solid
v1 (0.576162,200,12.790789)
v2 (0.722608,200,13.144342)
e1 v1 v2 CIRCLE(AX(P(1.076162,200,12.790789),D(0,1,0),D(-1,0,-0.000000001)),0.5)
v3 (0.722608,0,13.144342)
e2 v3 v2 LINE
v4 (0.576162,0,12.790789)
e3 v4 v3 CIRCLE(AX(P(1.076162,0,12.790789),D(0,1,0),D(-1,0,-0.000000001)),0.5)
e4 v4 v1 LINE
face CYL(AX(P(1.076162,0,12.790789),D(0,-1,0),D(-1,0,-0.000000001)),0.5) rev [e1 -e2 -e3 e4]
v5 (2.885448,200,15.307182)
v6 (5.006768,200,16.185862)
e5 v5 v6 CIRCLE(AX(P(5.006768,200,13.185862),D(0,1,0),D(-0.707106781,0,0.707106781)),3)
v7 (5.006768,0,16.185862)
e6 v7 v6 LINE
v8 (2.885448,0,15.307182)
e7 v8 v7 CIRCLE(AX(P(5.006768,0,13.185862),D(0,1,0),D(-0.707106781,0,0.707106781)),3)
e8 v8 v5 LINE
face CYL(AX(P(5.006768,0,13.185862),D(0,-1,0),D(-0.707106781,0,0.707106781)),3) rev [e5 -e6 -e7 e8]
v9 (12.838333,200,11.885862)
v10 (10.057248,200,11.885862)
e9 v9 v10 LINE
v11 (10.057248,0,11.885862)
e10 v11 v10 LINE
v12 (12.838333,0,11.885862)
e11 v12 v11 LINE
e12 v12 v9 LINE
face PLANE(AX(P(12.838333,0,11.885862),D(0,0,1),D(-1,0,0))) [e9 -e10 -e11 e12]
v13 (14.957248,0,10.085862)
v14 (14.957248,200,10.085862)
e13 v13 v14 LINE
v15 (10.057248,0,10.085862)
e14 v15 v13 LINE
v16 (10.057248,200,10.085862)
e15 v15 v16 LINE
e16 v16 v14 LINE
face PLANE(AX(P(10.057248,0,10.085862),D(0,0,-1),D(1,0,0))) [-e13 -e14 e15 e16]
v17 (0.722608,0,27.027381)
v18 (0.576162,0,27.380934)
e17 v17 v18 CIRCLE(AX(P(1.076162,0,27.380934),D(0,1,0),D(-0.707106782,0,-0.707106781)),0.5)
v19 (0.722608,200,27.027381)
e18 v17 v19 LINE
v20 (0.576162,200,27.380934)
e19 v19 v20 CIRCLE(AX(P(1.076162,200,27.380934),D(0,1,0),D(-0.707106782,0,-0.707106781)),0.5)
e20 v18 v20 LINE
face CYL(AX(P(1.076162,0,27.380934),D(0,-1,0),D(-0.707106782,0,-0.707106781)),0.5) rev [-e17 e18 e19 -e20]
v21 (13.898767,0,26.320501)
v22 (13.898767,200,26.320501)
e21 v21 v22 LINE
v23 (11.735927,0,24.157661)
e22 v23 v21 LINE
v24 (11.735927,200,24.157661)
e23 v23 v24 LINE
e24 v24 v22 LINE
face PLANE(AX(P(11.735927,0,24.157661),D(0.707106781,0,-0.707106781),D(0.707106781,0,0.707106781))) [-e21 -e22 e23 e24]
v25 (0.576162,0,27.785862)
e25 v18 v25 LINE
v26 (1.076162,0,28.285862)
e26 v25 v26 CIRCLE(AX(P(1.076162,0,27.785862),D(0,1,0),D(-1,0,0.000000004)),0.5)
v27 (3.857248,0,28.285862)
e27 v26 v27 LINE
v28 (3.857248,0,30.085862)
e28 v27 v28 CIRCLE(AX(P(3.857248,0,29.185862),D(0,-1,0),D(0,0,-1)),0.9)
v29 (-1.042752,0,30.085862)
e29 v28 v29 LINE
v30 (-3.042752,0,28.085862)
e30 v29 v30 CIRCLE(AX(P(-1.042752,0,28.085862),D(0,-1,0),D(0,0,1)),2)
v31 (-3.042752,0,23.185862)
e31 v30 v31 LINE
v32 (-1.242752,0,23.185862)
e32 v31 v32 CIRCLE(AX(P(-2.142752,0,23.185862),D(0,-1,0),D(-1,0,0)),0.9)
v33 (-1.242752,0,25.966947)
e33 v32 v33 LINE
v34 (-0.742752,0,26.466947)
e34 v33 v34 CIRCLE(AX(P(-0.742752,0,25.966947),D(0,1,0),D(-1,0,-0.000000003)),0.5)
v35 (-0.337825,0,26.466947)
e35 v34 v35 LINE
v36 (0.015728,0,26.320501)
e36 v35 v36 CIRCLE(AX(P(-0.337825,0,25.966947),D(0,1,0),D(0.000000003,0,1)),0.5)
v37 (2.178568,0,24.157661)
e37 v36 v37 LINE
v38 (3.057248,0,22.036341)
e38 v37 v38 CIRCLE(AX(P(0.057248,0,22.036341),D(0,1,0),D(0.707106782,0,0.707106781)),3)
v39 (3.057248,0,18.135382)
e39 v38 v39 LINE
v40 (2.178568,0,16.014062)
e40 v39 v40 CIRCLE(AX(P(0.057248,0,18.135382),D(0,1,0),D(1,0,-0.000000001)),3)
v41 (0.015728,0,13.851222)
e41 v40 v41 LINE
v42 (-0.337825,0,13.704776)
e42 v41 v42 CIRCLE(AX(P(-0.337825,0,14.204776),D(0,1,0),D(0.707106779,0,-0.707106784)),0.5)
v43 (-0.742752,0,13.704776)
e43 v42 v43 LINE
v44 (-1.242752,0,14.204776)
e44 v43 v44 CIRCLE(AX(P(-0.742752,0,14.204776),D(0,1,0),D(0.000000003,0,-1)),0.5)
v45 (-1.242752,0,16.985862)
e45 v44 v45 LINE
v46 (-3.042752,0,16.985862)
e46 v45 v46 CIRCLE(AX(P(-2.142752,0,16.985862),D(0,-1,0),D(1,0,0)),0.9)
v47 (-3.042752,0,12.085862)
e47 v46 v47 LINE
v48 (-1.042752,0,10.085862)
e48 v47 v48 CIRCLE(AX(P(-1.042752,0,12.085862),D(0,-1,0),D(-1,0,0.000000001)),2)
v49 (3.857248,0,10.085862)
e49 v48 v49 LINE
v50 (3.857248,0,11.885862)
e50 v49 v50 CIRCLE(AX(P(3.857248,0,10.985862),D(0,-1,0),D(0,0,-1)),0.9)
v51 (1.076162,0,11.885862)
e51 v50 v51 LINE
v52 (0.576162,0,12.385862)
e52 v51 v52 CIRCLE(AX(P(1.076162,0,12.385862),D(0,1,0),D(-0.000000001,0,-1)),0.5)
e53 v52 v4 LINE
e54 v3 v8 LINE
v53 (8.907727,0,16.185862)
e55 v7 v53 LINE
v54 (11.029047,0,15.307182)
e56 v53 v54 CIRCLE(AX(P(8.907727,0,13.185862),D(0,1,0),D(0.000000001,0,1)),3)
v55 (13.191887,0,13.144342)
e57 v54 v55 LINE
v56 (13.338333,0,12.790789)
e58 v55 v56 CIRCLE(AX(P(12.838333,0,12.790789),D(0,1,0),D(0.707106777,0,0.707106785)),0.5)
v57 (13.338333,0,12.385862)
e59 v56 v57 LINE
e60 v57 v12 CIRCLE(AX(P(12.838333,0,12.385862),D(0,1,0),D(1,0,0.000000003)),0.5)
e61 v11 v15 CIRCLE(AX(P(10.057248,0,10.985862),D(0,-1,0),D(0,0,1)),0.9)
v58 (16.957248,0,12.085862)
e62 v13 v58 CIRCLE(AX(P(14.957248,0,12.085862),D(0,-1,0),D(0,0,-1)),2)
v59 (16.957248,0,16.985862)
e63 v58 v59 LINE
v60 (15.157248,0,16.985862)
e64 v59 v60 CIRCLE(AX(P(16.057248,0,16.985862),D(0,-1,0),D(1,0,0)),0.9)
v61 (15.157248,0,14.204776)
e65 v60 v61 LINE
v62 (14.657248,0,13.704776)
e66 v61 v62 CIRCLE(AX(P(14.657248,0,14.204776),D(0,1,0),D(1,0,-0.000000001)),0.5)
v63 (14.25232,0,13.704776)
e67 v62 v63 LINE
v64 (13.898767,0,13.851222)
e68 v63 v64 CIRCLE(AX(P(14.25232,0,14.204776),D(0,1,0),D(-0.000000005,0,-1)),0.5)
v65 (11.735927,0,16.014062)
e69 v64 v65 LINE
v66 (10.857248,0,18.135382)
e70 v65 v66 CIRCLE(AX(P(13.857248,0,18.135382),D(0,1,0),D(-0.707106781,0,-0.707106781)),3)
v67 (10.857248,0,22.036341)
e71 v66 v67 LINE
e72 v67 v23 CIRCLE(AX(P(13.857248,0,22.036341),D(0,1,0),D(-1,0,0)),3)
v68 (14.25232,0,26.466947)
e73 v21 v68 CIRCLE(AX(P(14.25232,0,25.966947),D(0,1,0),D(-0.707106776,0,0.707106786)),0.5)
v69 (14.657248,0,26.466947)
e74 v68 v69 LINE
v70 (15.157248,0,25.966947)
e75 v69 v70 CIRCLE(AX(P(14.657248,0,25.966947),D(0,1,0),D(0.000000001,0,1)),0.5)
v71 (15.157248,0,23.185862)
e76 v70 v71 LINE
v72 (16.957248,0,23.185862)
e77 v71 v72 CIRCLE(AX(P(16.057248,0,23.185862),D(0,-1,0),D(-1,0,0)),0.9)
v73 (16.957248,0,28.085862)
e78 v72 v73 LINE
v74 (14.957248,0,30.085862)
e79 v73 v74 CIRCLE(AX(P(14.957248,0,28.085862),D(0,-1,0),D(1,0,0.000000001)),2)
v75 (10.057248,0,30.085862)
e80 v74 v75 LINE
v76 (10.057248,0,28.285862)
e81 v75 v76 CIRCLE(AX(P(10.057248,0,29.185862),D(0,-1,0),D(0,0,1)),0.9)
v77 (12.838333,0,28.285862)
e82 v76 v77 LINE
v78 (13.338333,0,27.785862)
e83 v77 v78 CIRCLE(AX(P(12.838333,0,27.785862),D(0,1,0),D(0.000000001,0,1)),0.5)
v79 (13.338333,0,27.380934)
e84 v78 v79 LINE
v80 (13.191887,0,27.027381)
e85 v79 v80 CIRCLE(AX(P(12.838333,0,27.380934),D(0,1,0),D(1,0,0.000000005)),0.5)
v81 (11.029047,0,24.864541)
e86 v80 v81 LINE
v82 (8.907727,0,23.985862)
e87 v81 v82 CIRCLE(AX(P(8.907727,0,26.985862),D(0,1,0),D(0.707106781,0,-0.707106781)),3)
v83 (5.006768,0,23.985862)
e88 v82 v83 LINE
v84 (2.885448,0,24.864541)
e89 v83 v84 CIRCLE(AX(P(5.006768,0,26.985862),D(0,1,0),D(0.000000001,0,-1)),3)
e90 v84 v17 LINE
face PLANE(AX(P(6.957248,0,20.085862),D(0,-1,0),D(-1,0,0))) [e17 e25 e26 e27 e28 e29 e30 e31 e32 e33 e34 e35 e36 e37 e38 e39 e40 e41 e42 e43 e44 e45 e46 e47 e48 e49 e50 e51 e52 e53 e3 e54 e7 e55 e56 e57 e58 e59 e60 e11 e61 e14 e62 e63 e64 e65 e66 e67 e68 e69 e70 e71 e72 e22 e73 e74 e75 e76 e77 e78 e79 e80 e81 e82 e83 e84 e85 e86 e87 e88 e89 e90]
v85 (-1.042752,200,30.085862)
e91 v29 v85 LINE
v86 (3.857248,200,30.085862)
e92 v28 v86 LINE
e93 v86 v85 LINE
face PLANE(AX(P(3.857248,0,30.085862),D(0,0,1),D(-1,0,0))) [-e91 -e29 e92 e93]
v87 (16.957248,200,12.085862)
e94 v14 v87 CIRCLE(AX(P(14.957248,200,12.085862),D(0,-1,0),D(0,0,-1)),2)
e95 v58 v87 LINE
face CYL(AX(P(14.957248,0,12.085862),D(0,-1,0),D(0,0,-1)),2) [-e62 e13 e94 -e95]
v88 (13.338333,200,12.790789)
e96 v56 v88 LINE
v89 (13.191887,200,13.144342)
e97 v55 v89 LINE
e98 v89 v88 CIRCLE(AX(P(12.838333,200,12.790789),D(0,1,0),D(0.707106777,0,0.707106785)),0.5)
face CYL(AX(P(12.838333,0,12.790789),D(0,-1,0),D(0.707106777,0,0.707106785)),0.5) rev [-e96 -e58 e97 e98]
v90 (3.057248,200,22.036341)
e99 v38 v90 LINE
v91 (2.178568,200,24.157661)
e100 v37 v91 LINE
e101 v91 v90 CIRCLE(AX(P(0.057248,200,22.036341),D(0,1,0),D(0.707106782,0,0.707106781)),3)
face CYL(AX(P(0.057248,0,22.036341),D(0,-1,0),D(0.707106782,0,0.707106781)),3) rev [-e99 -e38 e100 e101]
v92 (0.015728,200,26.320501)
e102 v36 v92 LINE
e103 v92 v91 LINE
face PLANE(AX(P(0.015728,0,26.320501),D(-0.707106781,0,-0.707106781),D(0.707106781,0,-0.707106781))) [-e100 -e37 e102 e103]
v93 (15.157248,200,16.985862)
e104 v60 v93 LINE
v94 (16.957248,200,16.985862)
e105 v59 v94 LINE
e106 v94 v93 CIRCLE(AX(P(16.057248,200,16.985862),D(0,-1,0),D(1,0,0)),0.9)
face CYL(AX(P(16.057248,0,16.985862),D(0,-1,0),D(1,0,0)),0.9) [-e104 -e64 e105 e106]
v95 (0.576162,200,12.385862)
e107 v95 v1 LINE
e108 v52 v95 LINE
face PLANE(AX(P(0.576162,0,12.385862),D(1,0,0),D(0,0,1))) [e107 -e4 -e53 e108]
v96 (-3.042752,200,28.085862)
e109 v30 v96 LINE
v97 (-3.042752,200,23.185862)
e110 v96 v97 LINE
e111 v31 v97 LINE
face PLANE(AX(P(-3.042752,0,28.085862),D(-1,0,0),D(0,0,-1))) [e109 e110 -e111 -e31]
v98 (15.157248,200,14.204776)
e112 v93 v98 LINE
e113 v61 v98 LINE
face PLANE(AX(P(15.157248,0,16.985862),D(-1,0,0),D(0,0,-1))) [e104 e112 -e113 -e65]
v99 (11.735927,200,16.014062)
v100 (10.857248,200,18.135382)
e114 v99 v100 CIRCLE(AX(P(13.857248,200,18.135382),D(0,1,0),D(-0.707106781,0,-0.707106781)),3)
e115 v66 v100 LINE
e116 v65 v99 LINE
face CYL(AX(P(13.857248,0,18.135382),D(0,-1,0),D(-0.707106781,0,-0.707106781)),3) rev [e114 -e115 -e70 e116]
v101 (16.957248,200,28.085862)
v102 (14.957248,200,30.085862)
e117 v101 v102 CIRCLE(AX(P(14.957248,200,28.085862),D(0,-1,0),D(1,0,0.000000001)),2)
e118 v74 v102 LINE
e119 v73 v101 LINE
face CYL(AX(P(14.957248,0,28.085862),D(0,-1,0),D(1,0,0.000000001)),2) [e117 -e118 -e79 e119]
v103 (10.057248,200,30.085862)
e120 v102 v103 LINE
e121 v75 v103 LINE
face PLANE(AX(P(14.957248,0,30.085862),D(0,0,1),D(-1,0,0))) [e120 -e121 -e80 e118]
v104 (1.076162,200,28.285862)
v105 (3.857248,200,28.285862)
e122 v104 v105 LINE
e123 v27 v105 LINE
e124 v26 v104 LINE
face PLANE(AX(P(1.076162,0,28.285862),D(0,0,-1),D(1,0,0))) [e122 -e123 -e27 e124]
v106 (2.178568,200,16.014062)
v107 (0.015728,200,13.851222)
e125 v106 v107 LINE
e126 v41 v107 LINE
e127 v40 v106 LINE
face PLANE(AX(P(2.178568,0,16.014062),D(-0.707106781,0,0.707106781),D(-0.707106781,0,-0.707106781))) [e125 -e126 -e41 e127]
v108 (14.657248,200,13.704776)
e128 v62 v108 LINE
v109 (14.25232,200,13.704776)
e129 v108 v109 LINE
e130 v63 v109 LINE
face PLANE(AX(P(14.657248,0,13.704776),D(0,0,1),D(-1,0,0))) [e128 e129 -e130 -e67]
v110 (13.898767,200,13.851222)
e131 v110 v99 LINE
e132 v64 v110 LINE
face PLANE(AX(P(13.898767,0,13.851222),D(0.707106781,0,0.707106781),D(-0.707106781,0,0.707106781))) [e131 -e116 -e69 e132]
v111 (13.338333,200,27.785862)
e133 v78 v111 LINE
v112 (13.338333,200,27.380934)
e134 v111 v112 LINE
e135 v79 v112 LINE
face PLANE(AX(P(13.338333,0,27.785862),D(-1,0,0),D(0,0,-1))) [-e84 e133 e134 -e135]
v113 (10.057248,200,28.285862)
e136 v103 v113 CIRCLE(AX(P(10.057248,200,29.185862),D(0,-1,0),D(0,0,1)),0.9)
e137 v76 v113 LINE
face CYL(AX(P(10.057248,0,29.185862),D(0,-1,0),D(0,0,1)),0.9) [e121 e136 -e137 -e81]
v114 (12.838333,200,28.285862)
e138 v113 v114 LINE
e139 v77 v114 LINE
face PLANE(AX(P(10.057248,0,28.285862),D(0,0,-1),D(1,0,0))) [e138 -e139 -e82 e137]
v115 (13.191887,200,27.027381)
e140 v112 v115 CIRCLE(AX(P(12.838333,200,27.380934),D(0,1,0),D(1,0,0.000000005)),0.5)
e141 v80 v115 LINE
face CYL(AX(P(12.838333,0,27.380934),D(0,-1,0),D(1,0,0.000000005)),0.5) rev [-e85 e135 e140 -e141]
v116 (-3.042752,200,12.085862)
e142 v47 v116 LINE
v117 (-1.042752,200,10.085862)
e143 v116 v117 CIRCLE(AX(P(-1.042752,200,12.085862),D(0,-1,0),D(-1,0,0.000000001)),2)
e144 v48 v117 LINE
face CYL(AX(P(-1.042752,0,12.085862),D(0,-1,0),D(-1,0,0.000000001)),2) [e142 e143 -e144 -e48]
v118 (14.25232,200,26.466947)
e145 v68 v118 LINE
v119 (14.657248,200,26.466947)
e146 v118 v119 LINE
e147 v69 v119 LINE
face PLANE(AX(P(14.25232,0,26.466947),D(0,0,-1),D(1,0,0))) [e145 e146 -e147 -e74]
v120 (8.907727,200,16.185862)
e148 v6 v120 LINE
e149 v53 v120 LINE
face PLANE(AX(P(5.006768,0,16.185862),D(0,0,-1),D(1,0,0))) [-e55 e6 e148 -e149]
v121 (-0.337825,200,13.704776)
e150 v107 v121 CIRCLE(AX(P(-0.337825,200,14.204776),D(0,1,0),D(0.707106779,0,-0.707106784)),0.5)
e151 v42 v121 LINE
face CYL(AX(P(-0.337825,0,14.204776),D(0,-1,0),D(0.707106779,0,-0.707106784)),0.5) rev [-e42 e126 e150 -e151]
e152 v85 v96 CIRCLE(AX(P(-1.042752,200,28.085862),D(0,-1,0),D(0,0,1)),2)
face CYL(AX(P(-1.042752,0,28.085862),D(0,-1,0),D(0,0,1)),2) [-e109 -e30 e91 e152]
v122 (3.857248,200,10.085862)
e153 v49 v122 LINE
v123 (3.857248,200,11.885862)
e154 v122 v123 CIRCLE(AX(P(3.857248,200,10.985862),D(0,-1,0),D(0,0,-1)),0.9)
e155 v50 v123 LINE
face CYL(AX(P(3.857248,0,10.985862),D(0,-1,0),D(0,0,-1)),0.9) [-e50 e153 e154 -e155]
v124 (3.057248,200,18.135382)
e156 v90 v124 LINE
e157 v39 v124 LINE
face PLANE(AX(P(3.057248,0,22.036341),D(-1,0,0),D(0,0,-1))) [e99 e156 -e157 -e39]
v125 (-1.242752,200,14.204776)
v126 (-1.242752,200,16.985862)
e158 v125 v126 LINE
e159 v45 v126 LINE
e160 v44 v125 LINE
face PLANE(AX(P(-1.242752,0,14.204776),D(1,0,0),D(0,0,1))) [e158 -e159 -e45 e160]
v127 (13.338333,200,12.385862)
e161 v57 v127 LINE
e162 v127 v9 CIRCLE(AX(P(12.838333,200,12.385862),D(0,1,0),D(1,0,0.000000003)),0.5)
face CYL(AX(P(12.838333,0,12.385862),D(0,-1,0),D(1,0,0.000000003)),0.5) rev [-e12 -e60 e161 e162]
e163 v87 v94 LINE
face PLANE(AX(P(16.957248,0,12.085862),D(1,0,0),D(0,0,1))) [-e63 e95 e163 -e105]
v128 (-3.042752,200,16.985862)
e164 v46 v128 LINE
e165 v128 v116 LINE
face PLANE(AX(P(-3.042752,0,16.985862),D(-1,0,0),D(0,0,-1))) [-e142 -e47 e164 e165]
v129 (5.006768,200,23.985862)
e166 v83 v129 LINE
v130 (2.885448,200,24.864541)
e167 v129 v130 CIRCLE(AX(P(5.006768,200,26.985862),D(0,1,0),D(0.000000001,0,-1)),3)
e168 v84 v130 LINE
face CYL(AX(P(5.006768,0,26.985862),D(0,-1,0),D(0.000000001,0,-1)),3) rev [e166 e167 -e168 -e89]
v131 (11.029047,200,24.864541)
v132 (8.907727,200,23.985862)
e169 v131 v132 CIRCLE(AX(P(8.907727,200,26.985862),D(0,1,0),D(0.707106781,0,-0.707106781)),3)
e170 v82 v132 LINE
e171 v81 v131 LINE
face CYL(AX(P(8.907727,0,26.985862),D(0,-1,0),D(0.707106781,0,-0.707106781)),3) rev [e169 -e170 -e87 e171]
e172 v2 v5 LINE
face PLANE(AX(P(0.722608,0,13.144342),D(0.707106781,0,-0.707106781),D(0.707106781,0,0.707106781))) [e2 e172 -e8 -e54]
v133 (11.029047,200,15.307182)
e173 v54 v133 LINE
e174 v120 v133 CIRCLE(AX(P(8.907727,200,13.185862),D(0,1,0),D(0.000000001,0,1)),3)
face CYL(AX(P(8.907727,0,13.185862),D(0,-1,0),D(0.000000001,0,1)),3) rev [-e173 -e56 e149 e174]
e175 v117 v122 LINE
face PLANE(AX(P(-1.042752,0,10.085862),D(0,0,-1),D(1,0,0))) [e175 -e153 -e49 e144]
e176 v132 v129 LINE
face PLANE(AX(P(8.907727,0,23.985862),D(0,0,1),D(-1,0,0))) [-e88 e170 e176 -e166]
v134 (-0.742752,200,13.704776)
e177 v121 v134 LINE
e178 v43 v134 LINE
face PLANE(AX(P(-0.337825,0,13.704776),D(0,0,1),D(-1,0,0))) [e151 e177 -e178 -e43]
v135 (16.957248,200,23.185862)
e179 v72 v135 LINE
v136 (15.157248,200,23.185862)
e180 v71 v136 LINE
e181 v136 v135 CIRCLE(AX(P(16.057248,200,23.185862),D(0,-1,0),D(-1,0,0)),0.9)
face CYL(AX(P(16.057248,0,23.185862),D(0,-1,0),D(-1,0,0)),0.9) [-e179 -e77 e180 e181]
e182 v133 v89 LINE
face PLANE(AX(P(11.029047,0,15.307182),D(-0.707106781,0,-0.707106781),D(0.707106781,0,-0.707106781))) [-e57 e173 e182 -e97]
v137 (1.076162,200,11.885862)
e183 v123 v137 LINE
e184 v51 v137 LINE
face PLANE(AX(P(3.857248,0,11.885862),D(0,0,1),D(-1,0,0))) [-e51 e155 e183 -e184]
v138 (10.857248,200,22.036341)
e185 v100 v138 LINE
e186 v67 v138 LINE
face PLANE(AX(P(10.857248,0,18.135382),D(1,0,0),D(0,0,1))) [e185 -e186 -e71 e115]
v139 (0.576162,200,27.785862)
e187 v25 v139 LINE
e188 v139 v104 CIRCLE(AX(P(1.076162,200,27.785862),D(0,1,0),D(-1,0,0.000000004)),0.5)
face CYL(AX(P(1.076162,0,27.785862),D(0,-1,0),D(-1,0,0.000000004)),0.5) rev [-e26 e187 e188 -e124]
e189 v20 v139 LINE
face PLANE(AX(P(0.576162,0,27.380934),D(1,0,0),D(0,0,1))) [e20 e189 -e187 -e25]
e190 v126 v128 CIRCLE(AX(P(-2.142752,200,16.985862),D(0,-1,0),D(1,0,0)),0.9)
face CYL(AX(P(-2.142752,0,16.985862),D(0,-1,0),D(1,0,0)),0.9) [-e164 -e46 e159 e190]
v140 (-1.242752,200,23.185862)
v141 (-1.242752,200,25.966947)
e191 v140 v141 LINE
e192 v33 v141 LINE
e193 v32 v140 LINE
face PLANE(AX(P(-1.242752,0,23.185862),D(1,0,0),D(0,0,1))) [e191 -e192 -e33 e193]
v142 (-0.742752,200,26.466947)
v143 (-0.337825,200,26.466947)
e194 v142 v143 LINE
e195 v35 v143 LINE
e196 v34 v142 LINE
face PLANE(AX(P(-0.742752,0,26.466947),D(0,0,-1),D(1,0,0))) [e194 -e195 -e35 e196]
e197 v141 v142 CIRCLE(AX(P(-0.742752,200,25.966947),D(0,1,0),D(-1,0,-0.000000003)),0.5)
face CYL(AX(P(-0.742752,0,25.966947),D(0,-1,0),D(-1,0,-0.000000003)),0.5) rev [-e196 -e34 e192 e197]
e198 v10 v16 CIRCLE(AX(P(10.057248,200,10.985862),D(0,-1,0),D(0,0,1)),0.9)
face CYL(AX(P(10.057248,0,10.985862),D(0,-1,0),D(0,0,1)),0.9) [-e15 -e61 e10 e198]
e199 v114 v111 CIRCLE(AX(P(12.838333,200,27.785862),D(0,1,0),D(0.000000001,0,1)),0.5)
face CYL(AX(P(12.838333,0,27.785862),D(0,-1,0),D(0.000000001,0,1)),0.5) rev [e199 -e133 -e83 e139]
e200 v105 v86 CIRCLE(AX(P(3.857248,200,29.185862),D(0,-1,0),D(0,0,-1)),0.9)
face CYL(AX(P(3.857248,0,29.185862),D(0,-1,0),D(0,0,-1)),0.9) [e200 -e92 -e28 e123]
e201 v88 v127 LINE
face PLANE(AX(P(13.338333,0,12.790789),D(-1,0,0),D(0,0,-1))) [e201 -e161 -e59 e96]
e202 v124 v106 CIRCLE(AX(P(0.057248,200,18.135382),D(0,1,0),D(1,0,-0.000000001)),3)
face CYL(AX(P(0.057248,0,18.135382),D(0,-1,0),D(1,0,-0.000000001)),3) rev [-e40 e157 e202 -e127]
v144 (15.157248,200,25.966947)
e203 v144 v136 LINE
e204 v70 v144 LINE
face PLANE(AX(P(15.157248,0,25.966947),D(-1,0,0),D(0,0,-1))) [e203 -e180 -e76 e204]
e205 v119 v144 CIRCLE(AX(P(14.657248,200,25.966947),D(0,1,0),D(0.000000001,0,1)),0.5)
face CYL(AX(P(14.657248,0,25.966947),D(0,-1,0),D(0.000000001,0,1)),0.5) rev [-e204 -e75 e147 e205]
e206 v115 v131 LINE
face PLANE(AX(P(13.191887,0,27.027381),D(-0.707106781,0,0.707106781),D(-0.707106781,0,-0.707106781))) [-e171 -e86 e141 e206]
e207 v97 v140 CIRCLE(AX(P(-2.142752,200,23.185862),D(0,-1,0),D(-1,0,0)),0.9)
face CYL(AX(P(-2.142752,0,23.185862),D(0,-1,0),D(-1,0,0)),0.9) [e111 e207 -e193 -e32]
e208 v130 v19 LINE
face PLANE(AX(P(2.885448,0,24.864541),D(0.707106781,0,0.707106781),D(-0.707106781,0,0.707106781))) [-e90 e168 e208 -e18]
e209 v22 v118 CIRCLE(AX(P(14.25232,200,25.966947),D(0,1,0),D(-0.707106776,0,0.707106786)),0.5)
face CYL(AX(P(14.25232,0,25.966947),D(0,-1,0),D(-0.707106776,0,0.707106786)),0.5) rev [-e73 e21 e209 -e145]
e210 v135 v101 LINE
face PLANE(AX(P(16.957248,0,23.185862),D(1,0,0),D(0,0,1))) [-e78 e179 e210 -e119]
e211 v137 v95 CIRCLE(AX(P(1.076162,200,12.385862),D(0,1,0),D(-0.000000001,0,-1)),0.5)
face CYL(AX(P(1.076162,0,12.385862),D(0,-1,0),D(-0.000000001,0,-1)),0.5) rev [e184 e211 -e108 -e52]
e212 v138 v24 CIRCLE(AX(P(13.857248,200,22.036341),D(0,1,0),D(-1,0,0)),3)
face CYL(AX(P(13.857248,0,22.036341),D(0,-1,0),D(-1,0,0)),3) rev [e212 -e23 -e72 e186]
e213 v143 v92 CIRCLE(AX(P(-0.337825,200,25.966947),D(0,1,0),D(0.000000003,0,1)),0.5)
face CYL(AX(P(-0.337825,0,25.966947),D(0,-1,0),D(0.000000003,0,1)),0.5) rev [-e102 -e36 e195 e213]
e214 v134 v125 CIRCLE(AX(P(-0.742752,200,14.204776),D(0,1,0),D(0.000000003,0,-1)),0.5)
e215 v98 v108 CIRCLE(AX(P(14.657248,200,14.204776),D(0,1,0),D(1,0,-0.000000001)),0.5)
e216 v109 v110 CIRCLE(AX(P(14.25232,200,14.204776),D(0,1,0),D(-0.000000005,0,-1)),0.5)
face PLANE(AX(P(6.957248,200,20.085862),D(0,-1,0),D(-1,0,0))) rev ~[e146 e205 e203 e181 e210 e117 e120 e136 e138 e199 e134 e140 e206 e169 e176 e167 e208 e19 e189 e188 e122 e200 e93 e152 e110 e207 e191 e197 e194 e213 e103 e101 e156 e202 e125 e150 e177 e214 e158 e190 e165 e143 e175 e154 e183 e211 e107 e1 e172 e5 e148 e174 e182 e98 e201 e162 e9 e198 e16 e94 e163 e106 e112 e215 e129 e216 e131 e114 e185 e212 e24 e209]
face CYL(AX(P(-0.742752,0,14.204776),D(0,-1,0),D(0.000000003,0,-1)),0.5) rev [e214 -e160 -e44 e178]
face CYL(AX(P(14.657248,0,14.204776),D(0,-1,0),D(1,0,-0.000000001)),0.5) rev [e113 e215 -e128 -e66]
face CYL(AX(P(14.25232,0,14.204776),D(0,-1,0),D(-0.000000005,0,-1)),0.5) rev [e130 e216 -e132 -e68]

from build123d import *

# Parameters (mm, degrees)
EXTRUDE_1_DEPTH = 200


with BuildPart() as part:
    # 草图1 → 凸台-拉伸1 (new body)
    with BuildSketch(Plane(origin=(0, 0, 0), x_dir=(1, 0, 0), z_dir=(0, 1, 0))):
        with BuildLine():
            Line((-1.042752475, -10.085861632), (3.857247525, -10.085861632))
            ThreePointArc((3.857247525, -10.085861632), (4.757247525, -10.985861632), (3.857247525, -11.885861632))
            Line((3.857247525, -11.885861632), (1.076161722, -11.885861632))
            ThreePointArc((1.076161722, -11.885861632), (0.722608332, -12.032308241), (0.576161722, -12.385861632))
            Line((0.576161722, -12.385861632), (0.576161722, -12.790788968))
            ThreePointArc((0.576161722, -12.790788968), (0.614221956, -12.982130685), (0.722608332, -13.144342359))
            Line((0.722608332, -13.144342359), (2.885447948, -15.307181975))
            ThreePointArc((2.885447948, -15.307181975), (3.858717994, -15.957500229), (5.006768291, -16.185861632))
            Line((5.006768291, -16.185861632), (8.907726758, -16.185861632))
            ThreePointArc((8.907726758, -16.185861632), (10.055777055, -15.957500229), (11.029047102, -15.307181975))
            Line((11.029047102, -15.307181975), (13.191886718, -13.144342359))
            ThreePointArc((13.191886718, -13.144342359), (13.300273094, -12.982130685), (13.338333327, -12.790788968))
            Line((13.338333327, -12.790788968), (13.338333327, -12.385861632))
            ThreePointArc((13.338333327, -12.385861632), (13.191886718, -12.032308241), (12.838333327, -11.885861632))
            Line((12.838333327, -11.885861632), (10.057247525, -11.885861632))
            ThreePointArc((10.057247525, -11.885861632), (9.157247525, -10.985861632), (10.057247525, -10.085861632))
            Line((10.057247525, -10.085861632), (14.957247525, -10.085861632))
            ThreePointArc((14.957247525, -10.085861632), (16.371461087, -10.671648069), (16.957247525, -12.085861632))
            Line((16.957247525, -12.085861632), (16.957247525, -16.985861632))
            ThreePointArc((16.957247525, -16.985861632), (16.057247525, -17.885861632), (15.157247525, -16.985861632))
            Line((15.157247525, -16.985861632), (15.157247525, -14.204775829))
            ThreePointArc((15.157247525, -14.204775829), (15.010800915, -13.851222438), (14.657247525, -13.704775829))
            Line((14.657247525, -13.704775829), (14.252320188, -13.704775829))
            ThreePointArc((14.252320188, -13.704775829), (14.060978472, -13.742836063), (13.898766797, -13.851222438))
            Line((13.898766797, -13.851222438), (11.735927181, -16.014062054))
            ThreePointArc((11.735927181, -16.014062054), (11.085608927, -16.987332101), (10.857247525, -18.135382398))
            Line((10.857247525, -18.135382398), (10.857247525, -22.036340865))
            ThreePointArc((10.857247525, -22.036340865), (11.085608927, -23.184391162), (11.735927181, -24.157661209))
            Line((11.735927181, -24.157661209), (13.898766797, -26.320500825))
            ThreePointArc((13.898766797, -26.320500825), (14.060978472, -26.4288872), (14.252320188, -26.466947434))
            Line((14.252320188, -26.466947434), (14.657247525, -26.466947434))
            ThreePointArc((14.657247525, -26.466947434), (15.010800915, -26.320500825), (15.157247525, -25.966947434))
            Line((15.157247525, -25.966947434), (15.157247525, -23.185861632))
            ThreePointArc((15.157247525, -23.185861632), (16.057247525, -22.285861632), (16.957247525, -23.185861632))
            Line((16.957247525, -23.185861632), (16.957247525, -28.085861632))
            ThreePointArc((16.957247525, -28.085861632), (16.371461087, -29.500075194), (14.957247525, -30.085861632))
            Line((14.957247525, -30.085861632), (10.057247525, -30.085861632))
            ThreePointArc((10.057247525, -30.085861632), (9.157247525, -29.185861632), (10.057247525, -28.285861632))
            Line((10.057247525, -28.285861632), (12.838333327, -28.285861632))
            ThreePointArc((12.838333327, -28.285861632), (13.191886718, -28.139415022), (13.338333327, -27.785861632))
            Line((13.338333327, -27.785861632), (13.338333327, -27.380934295))
            ThreePointArc((13.338333327, -27.380934295), (13.300273094, -27.189592579), (13.191886718, -27.027380904))
            Line((13.191886718, -27.027380904), (11.029047102, -24.864541288))
            ThreePointArc((11.029047102, -24.864541288), (10.055777055, -24.214223034), (8.907726758, -23.985861632))
            Line((8.907726758, -23.985861632), (5.006768291, -23.985861632))
            ThreePointArc((5.006768291, -23.985861632), (3.858717994, -24.214223034), (2.885447948, -24.864541288))
            Line((2.885447948, -24.864541288), (0.722608332, -27.027380904))
            ThreePointArc((0.722608332, -27.027380904), (0.614221956, -27.189592579), (0.576161722, -27.380934295))
            Line((0.576161722, -27.380934295), (0.576161722, -27.785861632))
            ThreePointArc((0.576161722, -27.785861632), (0.722608332, -28.139415022), (1.076161722, -28.285861632))
            Line((1.076161722, -28.285861632), (3.857247525, -28.285861632))
            ThreePointArc((3.857247525, -28.285861632), (4.757247525, -29.185861632), (3.857247525, -30.085861632))
            Line((3.857247525, -30.085861632), (-1.042752475, -30.085861632))
            ThreePointArc((-1.042752475, -30.085861632), (-2.456966038, -29.500075194), (-3.042752475, -28.085861632))
            Line((-3.042752475, -28.085861632), (-3.042752475, -23.185861632))
            ThreePointArc((-3.042752475, -23.185861632), (-2.142752475, -22.285861632), (-1.242752475, -23.185861632))
            Line((-1.242752475, -23.185861632), (-1.242752475, -25.966947434))
            ThreePointArc((-1.242752475, -25.966947434), (-1.096305866, -26.320500825), (-0.742752475, -26.466947434))
            Line((-0.742752475, -26.466947434), (-0.337825138, -26.466947434))
            ThreePointArc((-0.337825138, -26.466947434), (-0.146483422, -26.4288872), (0.015728252, -26.320500825))
            Line((0.015728252, -26.320500825), (2.178567868, -24.157661209))
            ThreePointArc((2.178567868, -24.157661209), (2.828886122, -23.184391162), (3.057247525, -22.036340865))
            Line((3.057247525, -22.036340865), (3.057247525, -18.135382398))
            ThreePointArc((3.057247525, -18.135382398), (2.828886122, -16.987332101), (2.178567868, -16.014062054))
            Line((2.178567868, -16.014062054), (0.015728252, -13.851222438))
            ThreePointArc((0.015728252, -13.851222438), (-0.146483422, -13.742836063), (-0.337825138, -13.704775829))
            Line((-0.337825138, -13.704775829), (-0.742752475, -13.704775829))
            ThreePointArc((-0.742752475, -13.704775829), (-1.096305866, -13.851222438), (-1.242752475, -14.204775829))
            Line((-1.242752475, -14.204775829), (-1.242752475, -16.985861632))
            ThreePointArc((-1.242752475, -16.985861632), (-2.142752475, -17.885861632), (-3.042752475, -16.985861632))
            Line((-3.042752475, -16.985861632), (-3.042752475, -12.085861632))
            ThreePointArc((-3.042752475, -12.085861632), (-2.456966038, -10.671648069), (-1.042752475, -10.085861632))
        make_face()
    extrude(amount=EXTRUDE_1_DEPTH)


solid = part.part
